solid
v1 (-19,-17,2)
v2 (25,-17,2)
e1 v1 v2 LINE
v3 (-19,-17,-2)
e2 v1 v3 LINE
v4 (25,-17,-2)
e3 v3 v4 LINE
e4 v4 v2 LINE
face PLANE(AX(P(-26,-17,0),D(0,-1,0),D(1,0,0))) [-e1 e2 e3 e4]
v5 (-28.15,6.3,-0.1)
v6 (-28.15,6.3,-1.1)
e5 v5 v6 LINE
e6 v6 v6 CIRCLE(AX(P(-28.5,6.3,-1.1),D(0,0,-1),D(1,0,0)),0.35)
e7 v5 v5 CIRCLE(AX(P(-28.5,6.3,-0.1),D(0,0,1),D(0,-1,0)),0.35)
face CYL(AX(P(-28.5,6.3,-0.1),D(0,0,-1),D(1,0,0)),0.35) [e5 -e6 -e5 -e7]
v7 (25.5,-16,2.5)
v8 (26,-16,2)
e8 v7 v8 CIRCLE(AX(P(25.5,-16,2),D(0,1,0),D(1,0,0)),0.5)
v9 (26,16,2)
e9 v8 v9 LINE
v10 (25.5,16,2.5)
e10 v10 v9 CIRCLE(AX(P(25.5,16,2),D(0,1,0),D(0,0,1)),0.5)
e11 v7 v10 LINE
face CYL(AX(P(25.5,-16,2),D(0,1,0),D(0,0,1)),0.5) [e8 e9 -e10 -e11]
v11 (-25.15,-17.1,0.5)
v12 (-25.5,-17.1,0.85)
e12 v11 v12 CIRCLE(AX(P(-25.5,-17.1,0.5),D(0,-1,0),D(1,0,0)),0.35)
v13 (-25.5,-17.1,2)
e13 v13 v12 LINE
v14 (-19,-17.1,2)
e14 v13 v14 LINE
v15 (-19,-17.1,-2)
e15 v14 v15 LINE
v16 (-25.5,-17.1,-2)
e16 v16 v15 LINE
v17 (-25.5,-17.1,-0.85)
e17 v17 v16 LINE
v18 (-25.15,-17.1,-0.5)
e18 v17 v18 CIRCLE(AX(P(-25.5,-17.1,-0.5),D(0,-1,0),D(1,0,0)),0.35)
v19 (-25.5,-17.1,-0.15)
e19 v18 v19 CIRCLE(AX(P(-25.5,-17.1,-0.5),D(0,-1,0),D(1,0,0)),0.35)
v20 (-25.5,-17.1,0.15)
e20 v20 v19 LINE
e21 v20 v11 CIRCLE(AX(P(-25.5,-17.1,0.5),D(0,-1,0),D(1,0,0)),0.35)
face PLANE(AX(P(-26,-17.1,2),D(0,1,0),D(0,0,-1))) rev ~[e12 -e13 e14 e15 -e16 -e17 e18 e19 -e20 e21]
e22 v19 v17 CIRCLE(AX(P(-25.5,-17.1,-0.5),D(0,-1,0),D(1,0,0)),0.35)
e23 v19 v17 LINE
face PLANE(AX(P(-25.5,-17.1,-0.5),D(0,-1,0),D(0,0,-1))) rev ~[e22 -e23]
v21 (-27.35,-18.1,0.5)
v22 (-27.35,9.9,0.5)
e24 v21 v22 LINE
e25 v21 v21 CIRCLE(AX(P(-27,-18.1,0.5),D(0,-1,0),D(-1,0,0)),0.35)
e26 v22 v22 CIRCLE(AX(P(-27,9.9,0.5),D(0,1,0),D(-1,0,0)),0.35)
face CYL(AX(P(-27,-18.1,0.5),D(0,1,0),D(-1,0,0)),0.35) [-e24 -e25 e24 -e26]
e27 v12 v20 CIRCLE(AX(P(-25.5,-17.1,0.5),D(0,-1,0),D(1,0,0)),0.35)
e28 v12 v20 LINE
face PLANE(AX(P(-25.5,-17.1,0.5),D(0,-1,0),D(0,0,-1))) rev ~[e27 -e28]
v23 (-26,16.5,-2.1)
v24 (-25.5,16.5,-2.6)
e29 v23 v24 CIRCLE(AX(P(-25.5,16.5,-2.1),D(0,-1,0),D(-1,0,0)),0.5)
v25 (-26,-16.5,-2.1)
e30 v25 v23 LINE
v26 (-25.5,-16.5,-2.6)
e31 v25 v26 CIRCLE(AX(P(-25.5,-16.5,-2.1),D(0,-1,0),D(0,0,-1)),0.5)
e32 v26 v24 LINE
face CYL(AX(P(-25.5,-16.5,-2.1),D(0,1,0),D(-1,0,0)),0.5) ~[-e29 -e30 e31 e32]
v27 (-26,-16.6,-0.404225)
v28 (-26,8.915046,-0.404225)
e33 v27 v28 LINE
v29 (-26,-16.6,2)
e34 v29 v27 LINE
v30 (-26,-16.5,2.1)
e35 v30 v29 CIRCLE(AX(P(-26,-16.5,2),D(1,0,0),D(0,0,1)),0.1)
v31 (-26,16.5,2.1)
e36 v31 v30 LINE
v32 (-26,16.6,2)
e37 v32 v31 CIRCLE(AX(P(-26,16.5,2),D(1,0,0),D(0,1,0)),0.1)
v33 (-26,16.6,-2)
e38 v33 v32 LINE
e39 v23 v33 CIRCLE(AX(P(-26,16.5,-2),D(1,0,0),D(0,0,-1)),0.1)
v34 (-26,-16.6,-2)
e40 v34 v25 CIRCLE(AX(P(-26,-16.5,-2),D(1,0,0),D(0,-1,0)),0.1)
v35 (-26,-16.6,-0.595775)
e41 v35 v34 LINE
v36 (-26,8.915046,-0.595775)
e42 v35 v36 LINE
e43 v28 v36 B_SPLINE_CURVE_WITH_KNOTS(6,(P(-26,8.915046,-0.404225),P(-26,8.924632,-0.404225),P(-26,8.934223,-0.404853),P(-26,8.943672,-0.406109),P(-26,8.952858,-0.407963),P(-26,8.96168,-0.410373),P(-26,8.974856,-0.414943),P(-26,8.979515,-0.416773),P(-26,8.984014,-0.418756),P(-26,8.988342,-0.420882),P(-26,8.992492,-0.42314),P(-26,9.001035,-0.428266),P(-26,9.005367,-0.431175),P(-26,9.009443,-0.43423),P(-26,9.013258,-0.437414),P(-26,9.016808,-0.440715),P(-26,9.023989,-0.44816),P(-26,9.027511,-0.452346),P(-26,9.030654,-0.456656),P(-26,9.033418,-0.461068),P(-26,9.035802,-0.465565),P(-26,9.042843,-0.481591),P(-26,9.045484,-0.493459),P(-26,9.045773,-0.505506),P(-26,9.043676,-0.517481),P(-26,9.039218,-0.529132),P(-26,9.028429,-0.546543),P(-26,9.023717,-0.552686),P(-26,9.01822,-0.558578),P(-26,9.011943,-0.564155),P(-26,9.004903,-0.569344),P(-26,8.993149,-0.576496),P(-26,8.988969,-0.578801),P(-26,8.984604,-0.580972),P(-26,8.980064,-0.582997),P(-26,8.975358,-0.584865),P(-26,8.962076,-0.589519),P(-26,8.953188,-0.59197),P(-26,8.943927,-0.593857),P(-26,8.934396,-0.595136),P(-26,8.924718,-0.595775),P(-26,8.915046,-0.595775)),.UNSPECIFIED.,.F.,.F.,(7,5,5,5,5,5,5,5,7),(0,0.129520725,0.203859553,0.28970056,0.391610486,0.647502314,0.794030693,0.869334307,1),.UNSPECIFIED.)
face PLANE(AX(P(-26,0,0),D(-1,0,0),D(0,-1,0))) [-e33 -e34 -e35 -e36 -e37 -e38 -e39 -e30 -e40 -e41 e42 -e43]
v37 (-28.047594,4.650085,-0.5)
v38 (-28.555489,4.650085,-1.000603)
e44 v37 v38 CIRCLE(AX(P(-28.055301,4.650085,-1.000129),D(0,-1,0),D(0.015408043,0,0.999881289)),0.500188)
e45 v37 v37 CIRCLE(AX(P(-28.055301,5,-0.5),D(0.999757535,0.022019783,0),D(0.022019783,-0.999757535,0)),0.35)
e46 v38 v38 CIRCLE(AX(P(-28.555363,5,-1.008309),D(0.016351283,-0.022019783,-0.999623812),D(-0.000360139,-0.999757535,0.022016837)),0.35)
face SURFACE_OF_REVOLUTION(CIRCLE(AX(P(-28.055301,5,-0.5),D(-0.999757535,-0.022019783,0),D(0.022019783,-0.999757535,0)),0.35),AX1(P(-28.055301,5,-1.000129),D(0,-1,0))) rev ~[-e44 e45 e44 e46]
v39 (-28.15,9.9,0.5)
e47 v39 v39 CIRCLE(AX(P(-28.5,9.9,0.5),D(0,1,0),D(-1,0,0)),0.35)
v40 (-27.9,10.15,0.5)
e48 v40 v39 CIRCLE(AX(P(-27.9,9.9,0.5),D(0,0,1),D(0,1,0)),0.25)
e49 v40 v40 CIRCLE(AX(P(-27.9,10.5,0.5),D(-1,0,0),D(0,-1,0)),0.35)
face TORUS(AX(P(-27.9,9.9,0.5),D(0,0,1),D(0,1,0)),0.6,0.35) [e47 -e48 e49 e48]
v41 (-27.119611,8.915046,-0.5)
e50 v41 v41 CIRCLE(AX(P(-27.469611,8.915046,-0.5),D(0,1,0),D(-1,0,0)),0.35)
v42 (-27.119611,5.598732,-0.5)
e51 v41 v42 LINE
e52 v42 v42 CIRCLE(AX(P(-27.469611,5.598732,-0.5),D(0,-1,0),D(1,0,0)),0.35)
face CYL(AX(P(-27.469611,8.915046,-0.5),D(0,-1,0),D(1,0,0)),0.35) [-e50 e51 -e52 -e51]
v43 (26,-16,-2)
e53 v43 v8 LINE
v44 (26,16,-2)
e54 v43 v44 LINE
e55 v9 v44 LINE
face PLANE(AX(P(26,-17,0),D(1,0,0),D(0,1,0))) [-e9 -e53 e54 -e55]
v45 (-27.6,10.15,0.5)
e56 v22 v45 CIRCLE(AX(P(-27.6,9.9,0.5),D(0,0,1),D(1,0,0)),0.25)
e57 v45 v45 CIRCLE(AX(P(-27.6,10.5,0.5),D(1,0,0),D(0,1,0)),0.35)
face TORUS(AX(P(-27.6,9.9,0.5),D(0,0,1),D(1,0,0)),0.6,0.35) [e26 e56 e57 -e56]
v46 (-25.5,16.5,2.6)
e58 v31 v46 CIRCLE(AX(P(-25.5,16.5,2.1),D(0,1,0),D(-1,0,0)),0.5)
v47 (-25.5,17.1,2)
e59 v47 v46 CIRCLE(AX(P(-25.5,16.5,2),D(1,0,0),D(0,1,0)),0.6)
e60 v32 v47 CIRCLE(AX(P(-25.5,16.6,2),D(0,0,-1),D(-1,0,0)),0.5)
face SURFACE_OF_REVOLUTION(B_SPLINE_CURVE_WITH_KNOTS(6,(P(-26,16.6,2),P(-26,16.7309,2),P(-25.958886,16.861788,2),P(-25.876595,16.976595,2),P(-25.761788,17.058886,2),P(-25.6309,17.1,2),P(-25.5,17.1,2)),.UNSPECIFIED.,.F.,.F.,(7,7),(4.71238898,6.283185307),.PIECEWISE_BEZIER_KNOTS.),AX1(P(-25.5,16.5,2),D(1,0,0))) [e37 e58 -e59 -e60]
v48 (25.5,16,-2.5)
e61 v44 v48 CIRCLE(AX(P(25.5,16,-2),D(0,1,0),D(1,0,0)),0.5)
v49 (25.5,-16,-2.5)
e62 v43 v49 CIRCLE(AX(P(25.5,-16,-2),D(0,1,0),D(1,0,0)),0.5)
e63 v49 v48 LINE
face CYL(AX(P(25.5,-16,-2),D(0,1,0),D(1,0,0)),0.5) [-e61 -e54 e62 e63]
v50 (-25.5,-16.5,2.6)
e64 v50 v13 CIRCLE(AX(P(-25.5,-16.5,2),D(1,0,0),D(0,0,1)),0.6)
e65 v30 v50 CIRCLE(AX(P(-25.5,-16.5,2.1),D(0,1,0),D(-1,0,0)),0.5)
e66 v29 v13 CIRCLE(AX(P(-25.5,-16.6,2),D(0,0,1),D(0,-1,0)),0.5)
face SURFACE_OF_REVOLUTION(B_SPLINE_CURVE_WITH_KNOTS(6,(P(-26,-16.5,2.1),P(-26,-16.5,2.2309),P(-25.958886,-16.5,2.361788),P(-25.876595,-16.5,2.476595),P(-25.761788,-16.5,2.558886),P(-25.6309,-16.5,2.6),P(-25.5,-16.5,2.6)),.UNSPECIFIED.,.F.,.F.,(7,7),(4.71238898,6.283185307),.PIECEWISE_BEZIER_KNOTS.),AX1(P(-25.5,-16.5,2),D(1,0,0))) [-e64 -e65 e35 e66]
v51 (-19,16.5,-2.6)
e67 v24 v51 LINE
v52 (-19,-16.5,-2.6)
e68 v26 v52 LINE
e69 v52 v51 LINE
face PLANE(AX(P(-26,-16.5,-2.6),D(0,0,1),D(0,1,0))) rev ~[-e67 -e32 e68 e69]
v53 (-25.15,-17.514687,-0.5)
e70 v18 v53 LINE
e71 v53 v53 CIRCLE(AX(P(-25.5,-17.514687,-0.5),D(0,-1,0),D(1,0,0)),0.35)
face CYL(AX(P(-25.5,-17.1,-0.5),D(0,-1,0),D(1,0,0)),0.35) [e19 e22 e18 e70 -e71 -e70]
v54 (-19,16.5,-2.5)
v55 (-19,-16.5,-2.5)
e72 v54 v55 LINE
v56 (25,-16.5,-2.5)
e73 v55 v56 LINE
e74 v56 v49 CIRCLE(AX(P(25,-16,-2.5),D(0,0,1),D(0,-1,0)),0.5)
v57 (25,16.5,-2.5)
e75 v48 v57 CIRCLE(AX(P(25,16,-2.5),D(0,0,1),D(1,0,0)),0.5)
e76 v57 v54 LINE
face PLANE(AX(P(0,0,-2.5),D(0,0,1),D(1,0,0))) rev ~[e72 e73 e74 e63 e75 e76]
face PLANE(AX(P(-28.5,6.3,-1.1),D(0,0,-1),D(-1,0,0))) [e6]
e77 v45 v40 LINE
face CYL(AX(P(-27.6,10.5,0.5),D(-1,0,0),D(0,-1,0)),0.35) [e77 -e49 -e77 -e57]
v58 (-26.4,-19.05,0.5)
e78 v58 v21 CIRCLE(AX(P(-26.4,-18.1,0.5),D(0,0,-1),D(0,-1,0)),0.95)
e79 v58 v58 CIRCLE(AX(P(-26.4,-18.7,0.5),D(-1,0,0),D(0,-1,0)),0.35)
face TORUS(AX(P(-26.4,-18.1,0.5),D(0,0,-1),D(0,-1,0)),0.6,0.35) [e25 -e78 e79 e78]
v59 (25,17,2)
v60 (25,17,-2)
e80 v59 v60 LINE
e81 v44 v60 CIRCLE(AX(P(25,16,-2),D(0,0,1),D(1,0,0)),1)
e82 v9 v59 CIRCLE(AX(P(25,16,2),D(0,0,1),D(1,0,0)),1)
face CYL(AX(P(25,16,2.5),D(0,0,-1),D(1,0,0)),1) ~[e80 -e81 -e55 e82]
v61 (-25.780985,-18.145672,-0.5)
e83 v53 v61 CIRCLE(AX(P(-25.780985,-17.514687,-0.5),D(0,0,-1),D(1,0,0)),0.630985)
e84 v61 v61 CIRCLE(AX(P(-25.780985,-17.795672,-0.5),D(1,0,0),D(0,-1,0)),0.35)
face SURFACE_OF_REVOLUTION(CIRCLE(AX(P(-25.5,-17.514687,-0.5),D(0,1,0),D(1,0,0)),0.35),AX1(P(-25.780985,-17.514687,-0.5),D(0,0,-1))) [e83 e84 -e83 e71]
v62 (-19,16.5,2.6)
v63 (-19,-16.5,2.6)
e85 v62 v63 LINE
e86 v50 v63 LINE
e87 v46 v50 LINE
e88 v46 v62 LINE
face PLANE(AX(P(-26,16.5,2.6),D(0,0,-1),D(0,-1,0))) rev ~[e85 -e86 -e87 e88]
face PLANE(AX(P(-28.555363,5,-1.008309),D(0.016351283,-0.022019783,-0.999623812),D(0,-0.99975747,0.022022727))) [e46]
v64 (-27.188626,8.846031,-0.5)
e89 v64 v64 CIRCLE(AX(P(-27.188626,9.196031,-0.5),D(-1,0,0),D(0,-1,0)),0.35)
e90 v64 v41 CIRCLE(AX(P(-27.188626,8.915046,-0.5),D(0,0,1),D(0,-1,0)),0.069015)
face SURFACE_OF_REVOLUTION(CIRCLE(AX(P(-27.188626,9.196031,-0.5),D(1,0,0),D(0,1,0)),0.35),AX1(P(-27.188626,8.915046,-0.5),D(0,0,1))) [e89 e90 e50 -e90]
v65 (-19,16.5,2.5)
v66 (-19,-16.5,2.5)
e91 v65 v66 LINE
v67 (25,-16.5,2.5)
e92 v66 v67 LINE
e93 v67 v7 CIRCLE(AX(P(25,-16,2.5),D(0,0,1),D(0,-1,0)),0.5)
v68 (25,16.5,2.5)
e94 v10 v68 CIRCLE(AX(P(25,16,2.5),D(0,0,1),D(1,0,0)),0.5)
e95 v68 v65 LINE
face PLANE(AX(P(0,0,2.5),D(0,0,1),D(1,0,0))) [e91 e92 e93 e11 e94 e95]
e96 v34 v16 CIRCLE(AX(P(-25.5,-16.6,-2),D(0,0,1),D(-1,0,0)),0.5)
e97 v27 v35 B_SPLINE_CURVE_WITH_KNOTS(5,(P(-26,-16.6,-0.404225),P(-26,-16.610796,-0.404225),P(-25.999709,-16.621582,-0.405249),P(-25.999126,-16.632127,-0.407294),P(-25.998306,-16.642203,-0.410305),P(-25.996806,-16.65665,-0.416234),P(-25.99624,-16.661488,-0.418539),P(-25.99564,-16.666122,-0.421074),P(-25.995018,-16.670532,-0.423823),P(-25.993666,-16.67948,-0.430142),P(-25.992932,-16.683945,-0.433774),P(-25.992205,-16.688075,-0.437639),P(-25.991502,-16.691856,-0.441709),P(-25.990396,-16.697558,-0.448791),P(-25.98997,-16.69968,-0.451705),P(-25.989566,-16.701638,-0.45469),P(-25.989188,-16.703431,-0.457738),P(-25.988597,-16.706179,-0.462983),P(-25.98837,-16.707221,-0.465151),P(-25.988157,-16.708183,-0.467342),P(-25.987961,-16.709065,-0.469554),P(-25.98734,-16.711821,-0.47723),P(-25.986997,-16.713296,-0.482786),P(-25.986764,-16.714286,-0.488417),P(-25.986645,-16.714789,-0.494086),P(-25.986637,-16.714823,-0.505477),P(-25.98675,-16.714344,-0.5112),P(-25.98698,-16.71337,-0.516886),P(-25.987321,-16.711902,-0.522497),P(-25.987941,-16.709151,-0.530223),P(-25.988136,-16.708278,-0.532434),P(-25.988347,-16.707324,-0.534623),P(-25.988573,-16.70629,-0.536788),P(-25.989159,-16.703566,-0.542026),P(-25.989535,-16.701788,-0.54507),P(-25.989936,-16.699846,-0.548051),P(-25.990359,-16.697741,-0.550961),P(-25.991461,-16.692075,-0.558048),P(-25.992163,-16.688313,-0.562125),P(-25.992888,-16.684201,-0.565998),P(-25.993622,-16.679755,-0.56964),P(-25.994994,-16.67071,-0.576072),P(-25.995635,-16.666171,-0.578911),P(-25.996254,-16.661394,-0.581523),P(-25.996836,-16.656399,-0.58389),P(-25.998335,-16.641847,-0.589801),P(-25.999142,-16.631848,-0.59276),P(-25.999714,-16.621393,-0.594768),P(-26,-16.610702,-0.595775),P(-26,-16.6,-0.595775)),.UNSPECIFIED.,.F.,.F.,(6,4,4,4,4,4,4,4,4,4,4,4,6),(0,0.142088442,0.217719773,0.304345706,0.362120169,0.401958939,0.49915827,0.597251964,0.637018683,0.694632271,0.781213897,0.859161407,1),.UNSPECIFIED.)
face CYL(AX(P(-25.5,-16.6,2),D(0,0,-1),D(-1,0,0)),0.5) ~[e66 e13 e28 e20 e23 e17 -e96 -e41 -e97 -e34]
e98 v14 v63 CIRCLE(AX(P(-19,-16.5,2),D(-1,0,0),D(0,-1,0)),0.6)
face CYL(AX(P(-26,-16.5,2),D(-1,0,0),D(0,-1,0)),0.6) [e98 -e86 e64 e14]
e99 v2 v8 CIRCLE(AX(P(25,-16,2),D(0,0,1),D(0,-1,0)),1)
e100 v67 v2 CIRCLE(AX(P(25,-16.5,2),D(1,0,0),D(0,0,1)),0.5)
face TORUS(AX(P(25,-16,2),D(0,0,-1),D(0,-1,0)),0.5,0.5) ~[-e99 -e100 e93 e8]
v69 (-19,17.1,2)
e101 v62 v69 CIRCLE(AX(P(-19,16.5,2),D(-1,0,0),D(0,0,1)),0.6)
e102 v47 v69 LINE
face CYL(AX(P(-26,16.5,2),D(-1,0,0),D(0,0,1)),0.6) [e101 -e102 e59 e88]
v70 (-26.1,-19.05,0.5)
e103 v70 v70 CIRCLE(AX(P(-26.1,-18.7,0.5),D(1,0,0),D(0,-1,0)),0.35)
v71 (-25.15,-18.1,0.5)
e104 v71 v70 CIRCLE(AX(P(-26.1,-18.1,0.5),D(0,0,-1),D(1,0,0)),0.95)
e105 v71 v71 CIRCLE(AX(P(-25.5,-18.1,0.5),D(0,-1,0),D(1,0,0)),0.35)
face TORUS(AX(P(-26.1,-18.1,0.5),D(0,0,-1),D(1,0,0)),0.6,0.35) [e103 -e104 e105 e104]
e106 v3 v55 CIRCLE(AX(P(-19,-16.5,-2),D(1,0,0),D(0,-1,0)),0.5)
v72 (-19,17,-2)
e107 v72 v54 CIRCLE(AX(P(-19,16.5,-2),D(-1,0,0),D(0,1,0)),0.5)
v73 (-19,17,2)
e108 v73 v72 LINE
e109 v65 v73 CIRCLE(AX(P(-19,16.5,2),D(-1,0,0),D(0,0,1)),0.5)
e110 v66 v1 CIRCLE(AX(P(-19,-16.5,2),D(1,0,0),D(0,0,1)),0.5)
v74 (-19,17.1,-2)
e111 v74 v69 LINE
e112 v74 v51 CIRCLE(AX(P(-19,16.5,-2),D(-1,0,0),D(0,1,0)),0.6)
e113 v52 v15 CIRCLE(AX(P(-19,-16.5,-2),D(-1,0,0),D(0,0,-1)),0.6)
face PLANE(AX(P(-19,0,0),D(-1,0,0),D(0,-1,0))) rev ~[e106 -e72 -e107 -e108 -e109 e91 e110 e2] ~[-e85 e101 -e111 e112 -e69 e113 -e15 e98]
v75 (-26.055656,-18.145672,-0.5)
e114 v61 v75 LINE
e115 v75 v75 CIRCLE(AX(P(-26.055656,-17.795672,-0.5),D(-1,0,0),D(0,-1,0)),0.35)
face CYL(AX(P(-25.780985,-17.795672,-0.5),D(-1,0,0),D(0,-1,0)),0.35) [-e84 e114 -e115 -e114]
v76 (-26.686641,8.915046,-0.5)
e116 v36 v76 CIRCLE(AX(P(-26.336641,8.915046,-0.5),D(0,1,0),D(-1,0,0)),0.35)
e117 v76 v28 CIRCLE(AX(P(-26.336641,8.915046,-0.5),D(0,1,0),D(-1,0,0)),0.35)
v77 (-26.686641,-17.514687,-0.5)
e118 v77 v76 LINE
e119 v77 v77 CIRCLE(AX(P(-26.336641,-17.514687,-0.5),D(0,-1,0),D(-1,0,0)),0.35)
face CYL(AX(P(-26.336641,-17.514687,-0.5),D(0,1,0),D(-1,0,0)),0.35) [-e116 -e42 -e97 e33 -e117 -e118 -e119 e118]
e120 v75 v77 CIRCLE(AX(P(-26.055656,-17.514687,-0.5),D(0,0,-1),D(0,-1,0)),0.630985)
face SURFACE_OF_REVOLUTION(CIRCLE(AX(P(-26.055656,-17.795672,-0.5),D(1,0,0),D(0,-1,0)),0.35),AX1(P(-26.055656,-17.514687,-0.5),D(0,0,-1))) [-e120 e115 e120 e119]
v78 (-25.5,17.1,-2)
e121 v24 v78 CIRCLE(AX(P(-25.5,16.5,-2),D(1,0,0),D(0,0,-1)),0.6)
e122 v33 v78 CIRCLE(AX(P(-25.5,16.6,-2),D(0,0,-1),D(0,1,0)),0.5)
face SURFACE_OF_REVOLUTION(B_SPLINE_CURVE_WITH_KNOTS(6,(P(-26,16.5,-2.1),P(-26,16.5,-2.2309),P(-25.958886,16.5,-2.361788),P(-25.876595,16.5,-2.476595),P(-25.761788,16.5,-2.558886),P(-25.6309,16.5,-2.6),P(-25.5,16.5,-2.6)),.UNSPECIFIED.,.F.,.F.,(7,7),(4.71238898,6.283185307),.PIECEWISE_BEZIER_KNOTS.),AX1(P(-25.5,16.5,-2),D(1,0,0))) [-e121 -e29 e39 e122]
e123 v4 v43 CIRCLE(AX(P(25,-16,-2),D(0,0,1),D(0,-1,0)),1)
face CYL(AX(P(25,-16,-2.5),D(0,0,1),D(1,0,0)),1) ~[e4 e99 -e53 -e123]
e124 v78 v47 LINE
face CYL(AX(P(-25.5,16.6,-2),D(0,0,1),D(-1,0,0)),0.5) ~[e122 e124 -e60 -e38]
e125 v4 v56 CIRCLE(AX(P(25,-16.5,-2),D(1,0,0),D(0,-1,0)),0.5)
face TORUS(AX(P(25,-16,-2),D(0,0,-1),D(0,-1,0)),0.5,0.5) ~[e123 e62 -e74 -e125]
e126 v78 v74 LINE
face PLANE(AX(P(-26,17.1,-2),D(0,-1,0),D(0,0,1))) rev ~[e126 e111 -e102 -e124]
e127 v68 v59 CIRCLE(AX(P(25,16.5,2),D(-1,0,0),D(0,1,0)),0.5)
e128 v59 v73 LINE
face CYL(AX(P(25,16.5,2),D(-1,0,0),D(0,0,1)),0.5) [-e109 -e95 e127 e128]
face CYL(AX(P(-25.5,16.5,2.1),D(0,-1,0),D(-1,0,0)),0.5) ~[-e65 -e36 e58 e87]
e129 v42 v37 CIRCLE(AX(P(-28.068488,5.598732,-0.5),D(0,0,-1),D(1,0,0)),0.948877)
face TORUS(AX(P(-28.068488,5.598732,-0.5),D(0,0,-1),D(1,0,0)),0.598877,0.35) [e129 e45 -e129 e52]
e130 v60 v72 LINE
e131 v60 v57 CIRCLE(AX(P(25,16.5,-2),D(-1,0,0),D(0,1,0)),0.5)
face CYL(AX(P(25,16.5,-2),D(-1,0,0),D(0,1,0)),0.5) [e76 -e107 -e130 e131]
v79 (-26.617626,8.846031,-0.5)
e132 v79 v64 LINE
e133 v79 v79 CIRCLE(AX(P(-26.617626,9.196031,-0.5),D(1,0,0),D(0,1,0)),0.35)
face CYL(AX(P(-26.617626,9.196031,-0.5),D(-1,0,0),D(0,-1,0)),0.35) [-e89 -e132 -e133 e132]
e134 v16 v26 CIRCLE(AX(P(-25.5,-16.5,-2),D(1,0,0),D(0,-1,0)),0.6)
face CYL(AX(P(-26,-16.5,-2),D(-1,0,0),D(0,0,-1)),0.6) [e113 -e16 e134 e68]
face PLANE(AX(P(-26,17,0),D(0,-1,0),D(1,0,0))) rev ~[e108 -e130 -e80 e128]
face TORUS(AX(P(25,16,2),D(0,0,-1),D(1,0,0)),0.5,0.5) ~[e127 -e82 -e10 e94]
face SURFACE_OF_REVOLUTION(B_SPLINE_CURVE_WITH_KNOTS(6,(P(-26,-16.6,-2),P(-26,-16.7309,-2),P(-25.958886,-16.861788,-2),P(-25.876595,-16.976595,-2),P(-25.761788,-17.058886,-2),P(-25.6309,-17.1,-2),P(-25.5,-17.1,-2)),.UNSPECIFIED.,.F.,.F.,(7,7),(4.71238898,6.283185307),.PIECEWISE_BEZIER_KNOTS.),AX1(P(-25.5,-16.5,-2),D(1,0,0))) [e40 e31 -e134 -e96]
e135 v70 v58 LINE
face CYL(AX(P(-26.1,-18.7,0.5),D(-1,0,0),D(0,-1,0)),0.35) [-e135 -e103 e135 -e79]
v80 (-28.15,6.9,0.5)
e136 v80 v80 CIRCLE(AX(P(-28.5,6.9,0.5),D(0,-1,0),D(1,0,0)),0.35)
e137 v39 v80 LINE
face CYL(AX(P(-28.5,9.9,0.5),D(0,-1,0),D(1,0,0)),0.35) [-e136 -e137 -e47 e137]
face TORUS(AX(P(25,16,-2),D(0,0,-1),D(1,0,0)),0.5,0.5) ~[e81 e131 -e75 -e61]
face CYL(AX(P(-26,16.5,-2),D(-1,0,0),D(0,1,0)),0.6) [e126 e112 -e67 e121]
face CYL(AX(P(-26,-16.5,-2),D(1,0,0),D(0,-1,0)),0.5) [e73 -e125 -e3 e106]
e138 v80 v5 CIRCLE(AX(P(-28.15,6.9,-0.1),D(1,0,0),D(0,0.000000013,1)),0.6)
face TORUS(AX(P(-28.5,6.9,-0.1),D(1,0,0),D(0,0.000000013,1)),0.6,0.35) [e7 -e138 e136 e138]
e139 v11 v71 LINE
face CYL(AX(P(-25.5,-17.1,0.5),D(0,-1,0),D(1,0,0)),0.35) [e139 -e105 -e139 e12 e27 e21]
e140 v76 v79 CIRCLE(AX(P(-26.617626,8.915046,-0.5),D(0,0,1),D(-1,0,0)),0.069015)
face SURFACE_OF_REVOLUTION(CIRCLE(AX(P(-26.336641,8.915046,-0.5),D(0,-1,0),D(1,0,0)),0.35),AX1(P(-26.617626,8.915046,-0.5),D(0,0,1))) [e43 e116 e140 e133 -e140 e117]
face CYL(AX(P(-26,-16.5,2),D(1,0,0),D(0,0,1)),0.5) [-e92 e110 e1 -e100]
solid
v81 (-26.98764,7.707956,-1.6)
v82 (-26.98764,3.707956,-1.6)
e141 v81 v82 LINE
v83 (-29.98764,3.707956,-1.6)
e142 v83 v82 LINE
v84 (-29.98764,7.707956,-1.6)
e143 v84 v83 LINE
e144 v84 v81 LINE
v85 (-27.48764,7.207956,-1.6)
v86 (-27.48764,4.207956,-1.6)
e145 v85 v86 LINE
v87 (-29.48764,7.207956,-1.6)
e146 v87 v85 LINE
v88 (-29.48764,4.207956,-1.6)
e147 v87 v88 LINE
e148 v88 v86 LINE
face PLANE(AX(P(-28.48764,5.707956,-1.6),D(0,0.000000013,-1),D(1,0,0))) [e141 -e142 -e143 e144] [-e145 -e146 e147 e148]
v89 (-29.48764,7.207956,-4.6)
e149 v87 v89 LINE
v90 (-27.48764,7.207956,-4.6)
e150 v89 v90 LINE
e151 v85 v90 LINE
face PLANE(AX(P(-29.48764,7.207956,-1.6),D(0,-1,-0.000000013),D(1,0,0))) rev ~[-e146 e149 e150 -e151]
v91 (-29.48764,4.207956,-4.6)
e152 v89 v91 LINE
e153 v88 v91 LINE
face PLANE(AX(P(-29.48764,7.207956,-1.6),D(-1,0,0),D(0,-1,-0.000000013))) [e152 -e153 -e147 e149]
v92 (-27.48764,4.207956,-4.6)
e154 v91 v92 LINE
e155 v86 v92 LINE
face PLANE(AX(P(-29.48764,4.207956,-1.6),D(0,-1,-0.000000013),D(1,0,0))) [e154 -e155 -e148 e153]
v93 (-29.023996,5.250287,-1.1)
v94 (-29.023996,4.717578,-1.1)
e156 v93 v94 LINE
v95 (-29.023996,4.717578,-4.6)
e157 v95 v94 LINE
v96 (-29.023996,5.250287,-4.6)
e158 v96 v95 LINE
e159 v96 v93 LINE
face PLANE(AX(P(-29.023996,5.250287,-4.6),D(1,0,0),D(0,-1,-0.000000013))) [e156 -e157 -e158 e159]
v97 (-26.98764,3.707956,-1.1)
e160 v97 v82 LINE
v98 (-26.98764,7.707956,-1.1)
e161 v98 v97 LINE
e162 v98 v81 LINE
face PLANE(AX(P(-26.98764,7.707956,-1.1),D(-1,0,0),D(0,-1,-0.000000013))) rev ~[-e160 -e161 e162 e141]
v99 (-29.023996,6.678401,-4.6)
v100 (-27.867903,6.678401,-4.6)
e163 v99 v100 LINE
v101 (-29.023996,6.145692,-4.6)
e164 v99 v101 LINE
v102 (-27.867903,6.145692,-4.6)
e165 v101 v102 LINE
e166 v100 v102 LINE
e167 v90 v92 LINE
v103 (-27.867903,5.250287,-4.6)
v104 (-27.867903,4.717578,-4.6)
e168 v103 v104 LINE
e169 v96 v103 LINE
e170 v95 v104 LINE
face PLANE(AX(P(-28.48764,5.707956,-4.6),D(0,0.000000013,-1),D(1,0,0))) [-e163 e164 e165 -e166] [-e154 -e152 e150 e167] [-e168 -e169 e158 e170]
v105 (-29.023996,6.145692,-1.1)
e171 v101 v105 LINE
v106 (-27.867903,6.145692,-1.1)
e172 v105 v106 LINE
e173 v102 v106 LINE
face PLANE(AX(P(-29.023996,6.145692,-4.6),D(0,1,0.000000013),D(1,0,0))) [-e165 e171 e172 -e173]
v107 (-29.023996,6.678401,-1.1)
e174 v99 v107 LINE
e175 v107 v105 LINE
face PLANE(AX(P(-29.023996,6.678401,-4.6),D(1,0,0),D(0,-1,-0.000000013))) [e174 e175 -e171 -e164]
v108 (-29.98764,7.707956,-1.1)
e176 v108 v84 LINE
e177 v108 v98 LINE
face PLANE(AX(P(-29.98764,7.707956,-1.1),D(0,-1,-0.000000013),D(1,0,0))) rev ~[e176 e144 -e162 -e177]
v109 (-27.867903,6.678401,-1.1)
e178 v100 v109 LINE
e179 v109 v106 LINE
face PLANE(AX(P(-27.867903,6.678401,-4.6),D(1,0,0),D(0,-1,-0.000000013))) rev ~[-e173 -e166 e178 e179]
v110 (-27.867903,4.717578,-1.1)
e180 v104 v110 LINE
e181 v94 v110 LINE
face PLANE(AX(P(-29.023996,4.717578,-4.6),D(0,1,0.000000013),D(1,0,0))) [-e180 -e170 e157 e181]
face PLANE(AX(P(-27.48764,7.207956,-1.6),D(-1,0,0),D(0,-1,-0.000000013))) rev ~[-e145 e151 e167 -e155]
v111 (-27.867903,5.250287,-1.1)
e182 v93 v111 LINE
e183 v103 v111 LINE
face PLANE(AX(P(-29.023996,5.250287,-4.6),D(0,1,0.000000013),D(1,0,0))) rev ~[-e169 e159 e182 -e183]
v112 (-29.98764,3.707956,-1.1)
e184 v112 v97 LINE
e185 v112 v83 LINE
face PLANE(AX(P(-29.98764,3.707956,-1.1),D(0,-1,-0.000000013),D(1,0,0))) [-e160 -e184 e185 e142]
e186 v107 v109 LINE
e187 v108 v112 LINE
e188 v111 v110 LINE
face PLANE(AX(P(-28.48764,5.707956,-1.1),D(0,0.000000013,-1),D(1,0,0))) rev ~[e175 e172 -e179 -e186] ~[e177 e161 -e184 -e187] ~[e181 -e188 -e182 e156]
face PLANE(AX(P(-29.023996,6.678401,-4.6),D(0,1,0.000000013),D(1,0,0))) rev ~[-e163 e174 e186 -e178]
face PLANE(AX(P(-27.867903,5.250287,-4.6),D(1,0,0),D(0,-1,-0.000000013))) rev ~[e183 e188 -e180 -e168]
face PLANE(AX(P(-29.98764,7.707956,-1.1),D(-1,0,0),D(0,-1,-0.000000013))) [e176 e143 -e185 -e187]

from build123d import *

# Parameters (mm, degrees)
SKETCH_W     = 52
SKETCH_H     = 34
PAD_DEPTH    = 2.5
FILLET_R     = 1
FILLET001_R  = 0.5
PAD001_DEPTH = 7
FILLET002_R  = 0.5
SKETCH002_R  = 0.35
SKETCH005_R  = 0.35
SKETCH006_R  = 0.35
SKETCH008_R  = 0.35
SKETCH010_W  = 3
SKETCH010_H  = 4
PAD002_DEPTH = 0.5
SKETCH011_W  = 2
SKETCH011_H  = 3
PAD003_DEPTH = 3
SKETCH012_W  = 1.156093
SKETCH012_H  = 0.532709
POCKET_DEPTH = 5


with BuildPart() as body:
    # Sketch → Pad (new body, symmetric)
    with BuildSketch(Plane.XY):
        Rectangle(SKETCH_W, SKETCH_H)
    extrude(amount=PAD_DEPTH, both=True)

    # Fillet
    fillet_edges = [body.edges().sort_by_distance(p)[0] for p in [
        (26, -17, 0),
        (26, 17, 0),
    ]]
    fillet(fillet_edges, radius=FILLET_R)

    # Fillet001
    fillet001_edges = [body.edges().sort_by_distance(p)[0] for p in [
        (-0.5, -17, 2.5),
        (-0.5, -17, -2.5),
    ]]
    fillet(fillet001_edges, radius=FILLET001_R)

    # Sketch001 (on Face5 of Fillet001) → Pad001 (join)
    with BuildSketch(Plane(origin=(-26, 0, 0), x_dir=(0, -1, 0), z_dir=(-1, 0, 0))):
        with BuildLine():
            ThreePointArc((-17.1, -2), (-16.9242640687, -2.4242640687), (-16.5, -2.6))
            Line((16.5, -2.6), (-16.5, -2.6))
            ThreePointArc((16.5, -2.6), (16.9242640687, -2.4242640687), (17.1, -2))
            Line((17.1, 2), (17.1, -2))
            ThreePointArc((17.1, 2), (16.9242640687, 2.4242640687), (16.5, 2.6))
            Line((-16.5, 2.6), (16.5, 2.6))
            ThreePointArc((-16.5, 2.6), (-16.9242640687, 2.4242640687), (-17.1, 2))
            Line((-17.1, -2), (-17.1, 2))
        make_face()
    extrude(amount=-PAD001_DEPTH)

    # Fillet002
    fillet002_edges = [body.edges().sort_by_distance(p)[0] for p in [
        (-26, 0, 2.6),
    ]]
    fillet(fillet002_edges, radius=FILLET002_R)

    # AdditivePipe: sweep along a path in Sketch003
    with BuildLine(Plane.XY.offset(0.5)) as additivepipe_path:
        Line((-25.5, -17.1), (-25.5, -18.1))
        ThreePointArc((-25.5, -18.1), (-25.6757359313, -18.5242640687), (-26.1, -18.7))
        Line((-26.1, -18.7), (-26.4, -18.7))
        ThreePointArc((-26.4, -18.7), (-26.8242640687, -18.5242640687), (-27, -18.1))
        Line((-27, -18.1), (-27, 9.9))
        ThreePointArc((-27, 9.9), (-27.1757359313, 10.3242640687), (-27.6, 10.5))
        Line((-27.6, 10.5), (-27.9, 10.5))
        ThreePointArc((-27.9, 10.5), (-28.3242640687, 10.3242640687), (-28.5, 9.9))
        Line((-28.5, 9.9), (-28.5, 6.9))
    # Sketch002 (on Face12 of Fillet002) → AdditivePipe (sweep)
    with BuildSketch(Plane.XZ.offset(17.1)):
        with Locations((-25.5, 0.5)):
            Circle(SKETCH002_R)
    sweep(path=additivepipe_path.line)

    # AdditivePipe001: sweep along a path in Sketch004
    with BuildLine(Plane.YZ.offset(-28.5)) as additivepipe001_path:
        ThreePointArc((6.9, 0.5), (6.4757359263, 0.3242640714), (6.2999999923, -0.1))
        Line((6.2999999923, -0.1), (6.2999999923, -1.1))
    # Sketch005 (on Face46 of AdditivePipe) → AdditivePipe001 (sweep)
    with BuildSketch(Plane.XZ.offset(-6.9)):
        with Locations((-28.5, 0.5)):
            Circle(SKETCH005_R)
    sweep(path=additivepipe001_path.line)

    # AdditivePipe002: sweep along a path in Sketch007
    with BuildLine(Plane.XY.offset(-0.5)) as additivepipe002_path:
        Line((-25.5, -17.1), (-25.5, -17.514687))
        ThreePointArc((-25.5, -17.514687), (-25.5822984625, -17.7133730643), (-25.7809845268, -17.7956715268))
        Line((-25.7809845268, -17.7956715268), (-26.0556564732, -17.7956715268))
        ThreePointArc((-26.0556564732, -17.7956715268), (-26.2543425375, -17.7133730643), (-26.336641, -17.514687))
        Line((-26.336641, -17.514687), (-26.336641, 8.9150462299))
        ThreePointArc((-26.336641, 8.9150462299), (-26.4189394625, 9.1137322942), (-26.6176255268, 9.1960307567))
        Line((-26.6176255268, 9.1960307567), (-27.1886263708, 9.1960307567))
        ThreePointArc((-27.1886263708, 9.1960307567), (-27.3873124351, 9.1137322942), (-27.4696108976, 8.9150462299))
        Line((-27.4696108976, 8.9150462299), (-27.4696108976, 5.598731777))
        ThreePointArc((-27.4696108976, 5.598731777), (-27.6403809339, 5.1799501118), (-28.0553007402, 5))
    # Sketch006 (on Face12 of AdditivePipe001) → AdditivePipe002 (sweep)
    with BuildSketch(Plane.XZ.offset(17.1)):
        with Locations((-25.5, -0.5)):
            Circle(SKETCH006_R)
    sweep(path=additivepipe002_path.line)

    # AdditivePipe003: sweep along a path in Sketch009
    with BuildLine(Plane.XZ.offset(-5)) as additivepipe003_path:
        ThreePointArc((-28.0553007402, -0.5), (-28.4118255913, -0.6493882878), (-28.5553628449, -1.0083087342))
    # Sketch008 (on Face53 of AdditivePipe002) → AdditivePipe003 (sweep)
    with BuildSketch(Plane(origin=(-27.9316253253, -0.6151974816, 0), x_dir=(0.0220197826, -0.9997575352, 0), z_dir=(-0.9997575352, -0.0220197826, 0))):
        with Locations((-5.6165592995, -0.5)):
            Circle(SKETCH008_R)
    sweep(path=additivepipe003_path.line)


with BuildPart() as conector:
    # Sketch010 (on ShapeBinder) → Pad002 (new body)
    with BuildSketch(Plane(origin=(0, 1.41e-08, -1.1000000808), x_dir=(1, 0, 0), z_dir=(0, 1.28e-08, -1))):
        with Locations((-28.48764, -5.707956)):
            Rectangle(SKETCH010_W, SKETCH010_H)
    extrude(amount=PAD002_DEPTH)

    # Sketch011 (on Face6 of Pad002) → Pad003 (join)
    with BuildSketch(Plane(origin=(0, 2.05e-08, -1.6000000808), x_dir=(1, 0, 0), z_dir=(0, 1.28e-08, -1))):
        with Locations((-28.48764, -5.707956)):
            Rectangle(SKETCH011_W, SKETCH011_H)
    extrude(amount=PAD003_DEPTH)

    # Sketch012 (on Face11 of Pad003) → Pocket (cut)
    with BuildSketch(Plane(origin=(0, 5.9e-08, -4.6000000808), x_dir=(1, 0, 0), z_dir=(0, 1.28e-08, -1))):
        with Locations((-28.4459495, -4.9839325)):
            Rectangle(SKETCH012_W, SKETCH012_H)
        with Locations((-28.4459495, -6.4120465)):
            Rectangle(SKETCH012_W, SKETCH012_H)
    extrude(amount=-POCKET_DEPTH, mode=Mode.SUBTRACT)


solid = Compound([body.part, conector.part])
